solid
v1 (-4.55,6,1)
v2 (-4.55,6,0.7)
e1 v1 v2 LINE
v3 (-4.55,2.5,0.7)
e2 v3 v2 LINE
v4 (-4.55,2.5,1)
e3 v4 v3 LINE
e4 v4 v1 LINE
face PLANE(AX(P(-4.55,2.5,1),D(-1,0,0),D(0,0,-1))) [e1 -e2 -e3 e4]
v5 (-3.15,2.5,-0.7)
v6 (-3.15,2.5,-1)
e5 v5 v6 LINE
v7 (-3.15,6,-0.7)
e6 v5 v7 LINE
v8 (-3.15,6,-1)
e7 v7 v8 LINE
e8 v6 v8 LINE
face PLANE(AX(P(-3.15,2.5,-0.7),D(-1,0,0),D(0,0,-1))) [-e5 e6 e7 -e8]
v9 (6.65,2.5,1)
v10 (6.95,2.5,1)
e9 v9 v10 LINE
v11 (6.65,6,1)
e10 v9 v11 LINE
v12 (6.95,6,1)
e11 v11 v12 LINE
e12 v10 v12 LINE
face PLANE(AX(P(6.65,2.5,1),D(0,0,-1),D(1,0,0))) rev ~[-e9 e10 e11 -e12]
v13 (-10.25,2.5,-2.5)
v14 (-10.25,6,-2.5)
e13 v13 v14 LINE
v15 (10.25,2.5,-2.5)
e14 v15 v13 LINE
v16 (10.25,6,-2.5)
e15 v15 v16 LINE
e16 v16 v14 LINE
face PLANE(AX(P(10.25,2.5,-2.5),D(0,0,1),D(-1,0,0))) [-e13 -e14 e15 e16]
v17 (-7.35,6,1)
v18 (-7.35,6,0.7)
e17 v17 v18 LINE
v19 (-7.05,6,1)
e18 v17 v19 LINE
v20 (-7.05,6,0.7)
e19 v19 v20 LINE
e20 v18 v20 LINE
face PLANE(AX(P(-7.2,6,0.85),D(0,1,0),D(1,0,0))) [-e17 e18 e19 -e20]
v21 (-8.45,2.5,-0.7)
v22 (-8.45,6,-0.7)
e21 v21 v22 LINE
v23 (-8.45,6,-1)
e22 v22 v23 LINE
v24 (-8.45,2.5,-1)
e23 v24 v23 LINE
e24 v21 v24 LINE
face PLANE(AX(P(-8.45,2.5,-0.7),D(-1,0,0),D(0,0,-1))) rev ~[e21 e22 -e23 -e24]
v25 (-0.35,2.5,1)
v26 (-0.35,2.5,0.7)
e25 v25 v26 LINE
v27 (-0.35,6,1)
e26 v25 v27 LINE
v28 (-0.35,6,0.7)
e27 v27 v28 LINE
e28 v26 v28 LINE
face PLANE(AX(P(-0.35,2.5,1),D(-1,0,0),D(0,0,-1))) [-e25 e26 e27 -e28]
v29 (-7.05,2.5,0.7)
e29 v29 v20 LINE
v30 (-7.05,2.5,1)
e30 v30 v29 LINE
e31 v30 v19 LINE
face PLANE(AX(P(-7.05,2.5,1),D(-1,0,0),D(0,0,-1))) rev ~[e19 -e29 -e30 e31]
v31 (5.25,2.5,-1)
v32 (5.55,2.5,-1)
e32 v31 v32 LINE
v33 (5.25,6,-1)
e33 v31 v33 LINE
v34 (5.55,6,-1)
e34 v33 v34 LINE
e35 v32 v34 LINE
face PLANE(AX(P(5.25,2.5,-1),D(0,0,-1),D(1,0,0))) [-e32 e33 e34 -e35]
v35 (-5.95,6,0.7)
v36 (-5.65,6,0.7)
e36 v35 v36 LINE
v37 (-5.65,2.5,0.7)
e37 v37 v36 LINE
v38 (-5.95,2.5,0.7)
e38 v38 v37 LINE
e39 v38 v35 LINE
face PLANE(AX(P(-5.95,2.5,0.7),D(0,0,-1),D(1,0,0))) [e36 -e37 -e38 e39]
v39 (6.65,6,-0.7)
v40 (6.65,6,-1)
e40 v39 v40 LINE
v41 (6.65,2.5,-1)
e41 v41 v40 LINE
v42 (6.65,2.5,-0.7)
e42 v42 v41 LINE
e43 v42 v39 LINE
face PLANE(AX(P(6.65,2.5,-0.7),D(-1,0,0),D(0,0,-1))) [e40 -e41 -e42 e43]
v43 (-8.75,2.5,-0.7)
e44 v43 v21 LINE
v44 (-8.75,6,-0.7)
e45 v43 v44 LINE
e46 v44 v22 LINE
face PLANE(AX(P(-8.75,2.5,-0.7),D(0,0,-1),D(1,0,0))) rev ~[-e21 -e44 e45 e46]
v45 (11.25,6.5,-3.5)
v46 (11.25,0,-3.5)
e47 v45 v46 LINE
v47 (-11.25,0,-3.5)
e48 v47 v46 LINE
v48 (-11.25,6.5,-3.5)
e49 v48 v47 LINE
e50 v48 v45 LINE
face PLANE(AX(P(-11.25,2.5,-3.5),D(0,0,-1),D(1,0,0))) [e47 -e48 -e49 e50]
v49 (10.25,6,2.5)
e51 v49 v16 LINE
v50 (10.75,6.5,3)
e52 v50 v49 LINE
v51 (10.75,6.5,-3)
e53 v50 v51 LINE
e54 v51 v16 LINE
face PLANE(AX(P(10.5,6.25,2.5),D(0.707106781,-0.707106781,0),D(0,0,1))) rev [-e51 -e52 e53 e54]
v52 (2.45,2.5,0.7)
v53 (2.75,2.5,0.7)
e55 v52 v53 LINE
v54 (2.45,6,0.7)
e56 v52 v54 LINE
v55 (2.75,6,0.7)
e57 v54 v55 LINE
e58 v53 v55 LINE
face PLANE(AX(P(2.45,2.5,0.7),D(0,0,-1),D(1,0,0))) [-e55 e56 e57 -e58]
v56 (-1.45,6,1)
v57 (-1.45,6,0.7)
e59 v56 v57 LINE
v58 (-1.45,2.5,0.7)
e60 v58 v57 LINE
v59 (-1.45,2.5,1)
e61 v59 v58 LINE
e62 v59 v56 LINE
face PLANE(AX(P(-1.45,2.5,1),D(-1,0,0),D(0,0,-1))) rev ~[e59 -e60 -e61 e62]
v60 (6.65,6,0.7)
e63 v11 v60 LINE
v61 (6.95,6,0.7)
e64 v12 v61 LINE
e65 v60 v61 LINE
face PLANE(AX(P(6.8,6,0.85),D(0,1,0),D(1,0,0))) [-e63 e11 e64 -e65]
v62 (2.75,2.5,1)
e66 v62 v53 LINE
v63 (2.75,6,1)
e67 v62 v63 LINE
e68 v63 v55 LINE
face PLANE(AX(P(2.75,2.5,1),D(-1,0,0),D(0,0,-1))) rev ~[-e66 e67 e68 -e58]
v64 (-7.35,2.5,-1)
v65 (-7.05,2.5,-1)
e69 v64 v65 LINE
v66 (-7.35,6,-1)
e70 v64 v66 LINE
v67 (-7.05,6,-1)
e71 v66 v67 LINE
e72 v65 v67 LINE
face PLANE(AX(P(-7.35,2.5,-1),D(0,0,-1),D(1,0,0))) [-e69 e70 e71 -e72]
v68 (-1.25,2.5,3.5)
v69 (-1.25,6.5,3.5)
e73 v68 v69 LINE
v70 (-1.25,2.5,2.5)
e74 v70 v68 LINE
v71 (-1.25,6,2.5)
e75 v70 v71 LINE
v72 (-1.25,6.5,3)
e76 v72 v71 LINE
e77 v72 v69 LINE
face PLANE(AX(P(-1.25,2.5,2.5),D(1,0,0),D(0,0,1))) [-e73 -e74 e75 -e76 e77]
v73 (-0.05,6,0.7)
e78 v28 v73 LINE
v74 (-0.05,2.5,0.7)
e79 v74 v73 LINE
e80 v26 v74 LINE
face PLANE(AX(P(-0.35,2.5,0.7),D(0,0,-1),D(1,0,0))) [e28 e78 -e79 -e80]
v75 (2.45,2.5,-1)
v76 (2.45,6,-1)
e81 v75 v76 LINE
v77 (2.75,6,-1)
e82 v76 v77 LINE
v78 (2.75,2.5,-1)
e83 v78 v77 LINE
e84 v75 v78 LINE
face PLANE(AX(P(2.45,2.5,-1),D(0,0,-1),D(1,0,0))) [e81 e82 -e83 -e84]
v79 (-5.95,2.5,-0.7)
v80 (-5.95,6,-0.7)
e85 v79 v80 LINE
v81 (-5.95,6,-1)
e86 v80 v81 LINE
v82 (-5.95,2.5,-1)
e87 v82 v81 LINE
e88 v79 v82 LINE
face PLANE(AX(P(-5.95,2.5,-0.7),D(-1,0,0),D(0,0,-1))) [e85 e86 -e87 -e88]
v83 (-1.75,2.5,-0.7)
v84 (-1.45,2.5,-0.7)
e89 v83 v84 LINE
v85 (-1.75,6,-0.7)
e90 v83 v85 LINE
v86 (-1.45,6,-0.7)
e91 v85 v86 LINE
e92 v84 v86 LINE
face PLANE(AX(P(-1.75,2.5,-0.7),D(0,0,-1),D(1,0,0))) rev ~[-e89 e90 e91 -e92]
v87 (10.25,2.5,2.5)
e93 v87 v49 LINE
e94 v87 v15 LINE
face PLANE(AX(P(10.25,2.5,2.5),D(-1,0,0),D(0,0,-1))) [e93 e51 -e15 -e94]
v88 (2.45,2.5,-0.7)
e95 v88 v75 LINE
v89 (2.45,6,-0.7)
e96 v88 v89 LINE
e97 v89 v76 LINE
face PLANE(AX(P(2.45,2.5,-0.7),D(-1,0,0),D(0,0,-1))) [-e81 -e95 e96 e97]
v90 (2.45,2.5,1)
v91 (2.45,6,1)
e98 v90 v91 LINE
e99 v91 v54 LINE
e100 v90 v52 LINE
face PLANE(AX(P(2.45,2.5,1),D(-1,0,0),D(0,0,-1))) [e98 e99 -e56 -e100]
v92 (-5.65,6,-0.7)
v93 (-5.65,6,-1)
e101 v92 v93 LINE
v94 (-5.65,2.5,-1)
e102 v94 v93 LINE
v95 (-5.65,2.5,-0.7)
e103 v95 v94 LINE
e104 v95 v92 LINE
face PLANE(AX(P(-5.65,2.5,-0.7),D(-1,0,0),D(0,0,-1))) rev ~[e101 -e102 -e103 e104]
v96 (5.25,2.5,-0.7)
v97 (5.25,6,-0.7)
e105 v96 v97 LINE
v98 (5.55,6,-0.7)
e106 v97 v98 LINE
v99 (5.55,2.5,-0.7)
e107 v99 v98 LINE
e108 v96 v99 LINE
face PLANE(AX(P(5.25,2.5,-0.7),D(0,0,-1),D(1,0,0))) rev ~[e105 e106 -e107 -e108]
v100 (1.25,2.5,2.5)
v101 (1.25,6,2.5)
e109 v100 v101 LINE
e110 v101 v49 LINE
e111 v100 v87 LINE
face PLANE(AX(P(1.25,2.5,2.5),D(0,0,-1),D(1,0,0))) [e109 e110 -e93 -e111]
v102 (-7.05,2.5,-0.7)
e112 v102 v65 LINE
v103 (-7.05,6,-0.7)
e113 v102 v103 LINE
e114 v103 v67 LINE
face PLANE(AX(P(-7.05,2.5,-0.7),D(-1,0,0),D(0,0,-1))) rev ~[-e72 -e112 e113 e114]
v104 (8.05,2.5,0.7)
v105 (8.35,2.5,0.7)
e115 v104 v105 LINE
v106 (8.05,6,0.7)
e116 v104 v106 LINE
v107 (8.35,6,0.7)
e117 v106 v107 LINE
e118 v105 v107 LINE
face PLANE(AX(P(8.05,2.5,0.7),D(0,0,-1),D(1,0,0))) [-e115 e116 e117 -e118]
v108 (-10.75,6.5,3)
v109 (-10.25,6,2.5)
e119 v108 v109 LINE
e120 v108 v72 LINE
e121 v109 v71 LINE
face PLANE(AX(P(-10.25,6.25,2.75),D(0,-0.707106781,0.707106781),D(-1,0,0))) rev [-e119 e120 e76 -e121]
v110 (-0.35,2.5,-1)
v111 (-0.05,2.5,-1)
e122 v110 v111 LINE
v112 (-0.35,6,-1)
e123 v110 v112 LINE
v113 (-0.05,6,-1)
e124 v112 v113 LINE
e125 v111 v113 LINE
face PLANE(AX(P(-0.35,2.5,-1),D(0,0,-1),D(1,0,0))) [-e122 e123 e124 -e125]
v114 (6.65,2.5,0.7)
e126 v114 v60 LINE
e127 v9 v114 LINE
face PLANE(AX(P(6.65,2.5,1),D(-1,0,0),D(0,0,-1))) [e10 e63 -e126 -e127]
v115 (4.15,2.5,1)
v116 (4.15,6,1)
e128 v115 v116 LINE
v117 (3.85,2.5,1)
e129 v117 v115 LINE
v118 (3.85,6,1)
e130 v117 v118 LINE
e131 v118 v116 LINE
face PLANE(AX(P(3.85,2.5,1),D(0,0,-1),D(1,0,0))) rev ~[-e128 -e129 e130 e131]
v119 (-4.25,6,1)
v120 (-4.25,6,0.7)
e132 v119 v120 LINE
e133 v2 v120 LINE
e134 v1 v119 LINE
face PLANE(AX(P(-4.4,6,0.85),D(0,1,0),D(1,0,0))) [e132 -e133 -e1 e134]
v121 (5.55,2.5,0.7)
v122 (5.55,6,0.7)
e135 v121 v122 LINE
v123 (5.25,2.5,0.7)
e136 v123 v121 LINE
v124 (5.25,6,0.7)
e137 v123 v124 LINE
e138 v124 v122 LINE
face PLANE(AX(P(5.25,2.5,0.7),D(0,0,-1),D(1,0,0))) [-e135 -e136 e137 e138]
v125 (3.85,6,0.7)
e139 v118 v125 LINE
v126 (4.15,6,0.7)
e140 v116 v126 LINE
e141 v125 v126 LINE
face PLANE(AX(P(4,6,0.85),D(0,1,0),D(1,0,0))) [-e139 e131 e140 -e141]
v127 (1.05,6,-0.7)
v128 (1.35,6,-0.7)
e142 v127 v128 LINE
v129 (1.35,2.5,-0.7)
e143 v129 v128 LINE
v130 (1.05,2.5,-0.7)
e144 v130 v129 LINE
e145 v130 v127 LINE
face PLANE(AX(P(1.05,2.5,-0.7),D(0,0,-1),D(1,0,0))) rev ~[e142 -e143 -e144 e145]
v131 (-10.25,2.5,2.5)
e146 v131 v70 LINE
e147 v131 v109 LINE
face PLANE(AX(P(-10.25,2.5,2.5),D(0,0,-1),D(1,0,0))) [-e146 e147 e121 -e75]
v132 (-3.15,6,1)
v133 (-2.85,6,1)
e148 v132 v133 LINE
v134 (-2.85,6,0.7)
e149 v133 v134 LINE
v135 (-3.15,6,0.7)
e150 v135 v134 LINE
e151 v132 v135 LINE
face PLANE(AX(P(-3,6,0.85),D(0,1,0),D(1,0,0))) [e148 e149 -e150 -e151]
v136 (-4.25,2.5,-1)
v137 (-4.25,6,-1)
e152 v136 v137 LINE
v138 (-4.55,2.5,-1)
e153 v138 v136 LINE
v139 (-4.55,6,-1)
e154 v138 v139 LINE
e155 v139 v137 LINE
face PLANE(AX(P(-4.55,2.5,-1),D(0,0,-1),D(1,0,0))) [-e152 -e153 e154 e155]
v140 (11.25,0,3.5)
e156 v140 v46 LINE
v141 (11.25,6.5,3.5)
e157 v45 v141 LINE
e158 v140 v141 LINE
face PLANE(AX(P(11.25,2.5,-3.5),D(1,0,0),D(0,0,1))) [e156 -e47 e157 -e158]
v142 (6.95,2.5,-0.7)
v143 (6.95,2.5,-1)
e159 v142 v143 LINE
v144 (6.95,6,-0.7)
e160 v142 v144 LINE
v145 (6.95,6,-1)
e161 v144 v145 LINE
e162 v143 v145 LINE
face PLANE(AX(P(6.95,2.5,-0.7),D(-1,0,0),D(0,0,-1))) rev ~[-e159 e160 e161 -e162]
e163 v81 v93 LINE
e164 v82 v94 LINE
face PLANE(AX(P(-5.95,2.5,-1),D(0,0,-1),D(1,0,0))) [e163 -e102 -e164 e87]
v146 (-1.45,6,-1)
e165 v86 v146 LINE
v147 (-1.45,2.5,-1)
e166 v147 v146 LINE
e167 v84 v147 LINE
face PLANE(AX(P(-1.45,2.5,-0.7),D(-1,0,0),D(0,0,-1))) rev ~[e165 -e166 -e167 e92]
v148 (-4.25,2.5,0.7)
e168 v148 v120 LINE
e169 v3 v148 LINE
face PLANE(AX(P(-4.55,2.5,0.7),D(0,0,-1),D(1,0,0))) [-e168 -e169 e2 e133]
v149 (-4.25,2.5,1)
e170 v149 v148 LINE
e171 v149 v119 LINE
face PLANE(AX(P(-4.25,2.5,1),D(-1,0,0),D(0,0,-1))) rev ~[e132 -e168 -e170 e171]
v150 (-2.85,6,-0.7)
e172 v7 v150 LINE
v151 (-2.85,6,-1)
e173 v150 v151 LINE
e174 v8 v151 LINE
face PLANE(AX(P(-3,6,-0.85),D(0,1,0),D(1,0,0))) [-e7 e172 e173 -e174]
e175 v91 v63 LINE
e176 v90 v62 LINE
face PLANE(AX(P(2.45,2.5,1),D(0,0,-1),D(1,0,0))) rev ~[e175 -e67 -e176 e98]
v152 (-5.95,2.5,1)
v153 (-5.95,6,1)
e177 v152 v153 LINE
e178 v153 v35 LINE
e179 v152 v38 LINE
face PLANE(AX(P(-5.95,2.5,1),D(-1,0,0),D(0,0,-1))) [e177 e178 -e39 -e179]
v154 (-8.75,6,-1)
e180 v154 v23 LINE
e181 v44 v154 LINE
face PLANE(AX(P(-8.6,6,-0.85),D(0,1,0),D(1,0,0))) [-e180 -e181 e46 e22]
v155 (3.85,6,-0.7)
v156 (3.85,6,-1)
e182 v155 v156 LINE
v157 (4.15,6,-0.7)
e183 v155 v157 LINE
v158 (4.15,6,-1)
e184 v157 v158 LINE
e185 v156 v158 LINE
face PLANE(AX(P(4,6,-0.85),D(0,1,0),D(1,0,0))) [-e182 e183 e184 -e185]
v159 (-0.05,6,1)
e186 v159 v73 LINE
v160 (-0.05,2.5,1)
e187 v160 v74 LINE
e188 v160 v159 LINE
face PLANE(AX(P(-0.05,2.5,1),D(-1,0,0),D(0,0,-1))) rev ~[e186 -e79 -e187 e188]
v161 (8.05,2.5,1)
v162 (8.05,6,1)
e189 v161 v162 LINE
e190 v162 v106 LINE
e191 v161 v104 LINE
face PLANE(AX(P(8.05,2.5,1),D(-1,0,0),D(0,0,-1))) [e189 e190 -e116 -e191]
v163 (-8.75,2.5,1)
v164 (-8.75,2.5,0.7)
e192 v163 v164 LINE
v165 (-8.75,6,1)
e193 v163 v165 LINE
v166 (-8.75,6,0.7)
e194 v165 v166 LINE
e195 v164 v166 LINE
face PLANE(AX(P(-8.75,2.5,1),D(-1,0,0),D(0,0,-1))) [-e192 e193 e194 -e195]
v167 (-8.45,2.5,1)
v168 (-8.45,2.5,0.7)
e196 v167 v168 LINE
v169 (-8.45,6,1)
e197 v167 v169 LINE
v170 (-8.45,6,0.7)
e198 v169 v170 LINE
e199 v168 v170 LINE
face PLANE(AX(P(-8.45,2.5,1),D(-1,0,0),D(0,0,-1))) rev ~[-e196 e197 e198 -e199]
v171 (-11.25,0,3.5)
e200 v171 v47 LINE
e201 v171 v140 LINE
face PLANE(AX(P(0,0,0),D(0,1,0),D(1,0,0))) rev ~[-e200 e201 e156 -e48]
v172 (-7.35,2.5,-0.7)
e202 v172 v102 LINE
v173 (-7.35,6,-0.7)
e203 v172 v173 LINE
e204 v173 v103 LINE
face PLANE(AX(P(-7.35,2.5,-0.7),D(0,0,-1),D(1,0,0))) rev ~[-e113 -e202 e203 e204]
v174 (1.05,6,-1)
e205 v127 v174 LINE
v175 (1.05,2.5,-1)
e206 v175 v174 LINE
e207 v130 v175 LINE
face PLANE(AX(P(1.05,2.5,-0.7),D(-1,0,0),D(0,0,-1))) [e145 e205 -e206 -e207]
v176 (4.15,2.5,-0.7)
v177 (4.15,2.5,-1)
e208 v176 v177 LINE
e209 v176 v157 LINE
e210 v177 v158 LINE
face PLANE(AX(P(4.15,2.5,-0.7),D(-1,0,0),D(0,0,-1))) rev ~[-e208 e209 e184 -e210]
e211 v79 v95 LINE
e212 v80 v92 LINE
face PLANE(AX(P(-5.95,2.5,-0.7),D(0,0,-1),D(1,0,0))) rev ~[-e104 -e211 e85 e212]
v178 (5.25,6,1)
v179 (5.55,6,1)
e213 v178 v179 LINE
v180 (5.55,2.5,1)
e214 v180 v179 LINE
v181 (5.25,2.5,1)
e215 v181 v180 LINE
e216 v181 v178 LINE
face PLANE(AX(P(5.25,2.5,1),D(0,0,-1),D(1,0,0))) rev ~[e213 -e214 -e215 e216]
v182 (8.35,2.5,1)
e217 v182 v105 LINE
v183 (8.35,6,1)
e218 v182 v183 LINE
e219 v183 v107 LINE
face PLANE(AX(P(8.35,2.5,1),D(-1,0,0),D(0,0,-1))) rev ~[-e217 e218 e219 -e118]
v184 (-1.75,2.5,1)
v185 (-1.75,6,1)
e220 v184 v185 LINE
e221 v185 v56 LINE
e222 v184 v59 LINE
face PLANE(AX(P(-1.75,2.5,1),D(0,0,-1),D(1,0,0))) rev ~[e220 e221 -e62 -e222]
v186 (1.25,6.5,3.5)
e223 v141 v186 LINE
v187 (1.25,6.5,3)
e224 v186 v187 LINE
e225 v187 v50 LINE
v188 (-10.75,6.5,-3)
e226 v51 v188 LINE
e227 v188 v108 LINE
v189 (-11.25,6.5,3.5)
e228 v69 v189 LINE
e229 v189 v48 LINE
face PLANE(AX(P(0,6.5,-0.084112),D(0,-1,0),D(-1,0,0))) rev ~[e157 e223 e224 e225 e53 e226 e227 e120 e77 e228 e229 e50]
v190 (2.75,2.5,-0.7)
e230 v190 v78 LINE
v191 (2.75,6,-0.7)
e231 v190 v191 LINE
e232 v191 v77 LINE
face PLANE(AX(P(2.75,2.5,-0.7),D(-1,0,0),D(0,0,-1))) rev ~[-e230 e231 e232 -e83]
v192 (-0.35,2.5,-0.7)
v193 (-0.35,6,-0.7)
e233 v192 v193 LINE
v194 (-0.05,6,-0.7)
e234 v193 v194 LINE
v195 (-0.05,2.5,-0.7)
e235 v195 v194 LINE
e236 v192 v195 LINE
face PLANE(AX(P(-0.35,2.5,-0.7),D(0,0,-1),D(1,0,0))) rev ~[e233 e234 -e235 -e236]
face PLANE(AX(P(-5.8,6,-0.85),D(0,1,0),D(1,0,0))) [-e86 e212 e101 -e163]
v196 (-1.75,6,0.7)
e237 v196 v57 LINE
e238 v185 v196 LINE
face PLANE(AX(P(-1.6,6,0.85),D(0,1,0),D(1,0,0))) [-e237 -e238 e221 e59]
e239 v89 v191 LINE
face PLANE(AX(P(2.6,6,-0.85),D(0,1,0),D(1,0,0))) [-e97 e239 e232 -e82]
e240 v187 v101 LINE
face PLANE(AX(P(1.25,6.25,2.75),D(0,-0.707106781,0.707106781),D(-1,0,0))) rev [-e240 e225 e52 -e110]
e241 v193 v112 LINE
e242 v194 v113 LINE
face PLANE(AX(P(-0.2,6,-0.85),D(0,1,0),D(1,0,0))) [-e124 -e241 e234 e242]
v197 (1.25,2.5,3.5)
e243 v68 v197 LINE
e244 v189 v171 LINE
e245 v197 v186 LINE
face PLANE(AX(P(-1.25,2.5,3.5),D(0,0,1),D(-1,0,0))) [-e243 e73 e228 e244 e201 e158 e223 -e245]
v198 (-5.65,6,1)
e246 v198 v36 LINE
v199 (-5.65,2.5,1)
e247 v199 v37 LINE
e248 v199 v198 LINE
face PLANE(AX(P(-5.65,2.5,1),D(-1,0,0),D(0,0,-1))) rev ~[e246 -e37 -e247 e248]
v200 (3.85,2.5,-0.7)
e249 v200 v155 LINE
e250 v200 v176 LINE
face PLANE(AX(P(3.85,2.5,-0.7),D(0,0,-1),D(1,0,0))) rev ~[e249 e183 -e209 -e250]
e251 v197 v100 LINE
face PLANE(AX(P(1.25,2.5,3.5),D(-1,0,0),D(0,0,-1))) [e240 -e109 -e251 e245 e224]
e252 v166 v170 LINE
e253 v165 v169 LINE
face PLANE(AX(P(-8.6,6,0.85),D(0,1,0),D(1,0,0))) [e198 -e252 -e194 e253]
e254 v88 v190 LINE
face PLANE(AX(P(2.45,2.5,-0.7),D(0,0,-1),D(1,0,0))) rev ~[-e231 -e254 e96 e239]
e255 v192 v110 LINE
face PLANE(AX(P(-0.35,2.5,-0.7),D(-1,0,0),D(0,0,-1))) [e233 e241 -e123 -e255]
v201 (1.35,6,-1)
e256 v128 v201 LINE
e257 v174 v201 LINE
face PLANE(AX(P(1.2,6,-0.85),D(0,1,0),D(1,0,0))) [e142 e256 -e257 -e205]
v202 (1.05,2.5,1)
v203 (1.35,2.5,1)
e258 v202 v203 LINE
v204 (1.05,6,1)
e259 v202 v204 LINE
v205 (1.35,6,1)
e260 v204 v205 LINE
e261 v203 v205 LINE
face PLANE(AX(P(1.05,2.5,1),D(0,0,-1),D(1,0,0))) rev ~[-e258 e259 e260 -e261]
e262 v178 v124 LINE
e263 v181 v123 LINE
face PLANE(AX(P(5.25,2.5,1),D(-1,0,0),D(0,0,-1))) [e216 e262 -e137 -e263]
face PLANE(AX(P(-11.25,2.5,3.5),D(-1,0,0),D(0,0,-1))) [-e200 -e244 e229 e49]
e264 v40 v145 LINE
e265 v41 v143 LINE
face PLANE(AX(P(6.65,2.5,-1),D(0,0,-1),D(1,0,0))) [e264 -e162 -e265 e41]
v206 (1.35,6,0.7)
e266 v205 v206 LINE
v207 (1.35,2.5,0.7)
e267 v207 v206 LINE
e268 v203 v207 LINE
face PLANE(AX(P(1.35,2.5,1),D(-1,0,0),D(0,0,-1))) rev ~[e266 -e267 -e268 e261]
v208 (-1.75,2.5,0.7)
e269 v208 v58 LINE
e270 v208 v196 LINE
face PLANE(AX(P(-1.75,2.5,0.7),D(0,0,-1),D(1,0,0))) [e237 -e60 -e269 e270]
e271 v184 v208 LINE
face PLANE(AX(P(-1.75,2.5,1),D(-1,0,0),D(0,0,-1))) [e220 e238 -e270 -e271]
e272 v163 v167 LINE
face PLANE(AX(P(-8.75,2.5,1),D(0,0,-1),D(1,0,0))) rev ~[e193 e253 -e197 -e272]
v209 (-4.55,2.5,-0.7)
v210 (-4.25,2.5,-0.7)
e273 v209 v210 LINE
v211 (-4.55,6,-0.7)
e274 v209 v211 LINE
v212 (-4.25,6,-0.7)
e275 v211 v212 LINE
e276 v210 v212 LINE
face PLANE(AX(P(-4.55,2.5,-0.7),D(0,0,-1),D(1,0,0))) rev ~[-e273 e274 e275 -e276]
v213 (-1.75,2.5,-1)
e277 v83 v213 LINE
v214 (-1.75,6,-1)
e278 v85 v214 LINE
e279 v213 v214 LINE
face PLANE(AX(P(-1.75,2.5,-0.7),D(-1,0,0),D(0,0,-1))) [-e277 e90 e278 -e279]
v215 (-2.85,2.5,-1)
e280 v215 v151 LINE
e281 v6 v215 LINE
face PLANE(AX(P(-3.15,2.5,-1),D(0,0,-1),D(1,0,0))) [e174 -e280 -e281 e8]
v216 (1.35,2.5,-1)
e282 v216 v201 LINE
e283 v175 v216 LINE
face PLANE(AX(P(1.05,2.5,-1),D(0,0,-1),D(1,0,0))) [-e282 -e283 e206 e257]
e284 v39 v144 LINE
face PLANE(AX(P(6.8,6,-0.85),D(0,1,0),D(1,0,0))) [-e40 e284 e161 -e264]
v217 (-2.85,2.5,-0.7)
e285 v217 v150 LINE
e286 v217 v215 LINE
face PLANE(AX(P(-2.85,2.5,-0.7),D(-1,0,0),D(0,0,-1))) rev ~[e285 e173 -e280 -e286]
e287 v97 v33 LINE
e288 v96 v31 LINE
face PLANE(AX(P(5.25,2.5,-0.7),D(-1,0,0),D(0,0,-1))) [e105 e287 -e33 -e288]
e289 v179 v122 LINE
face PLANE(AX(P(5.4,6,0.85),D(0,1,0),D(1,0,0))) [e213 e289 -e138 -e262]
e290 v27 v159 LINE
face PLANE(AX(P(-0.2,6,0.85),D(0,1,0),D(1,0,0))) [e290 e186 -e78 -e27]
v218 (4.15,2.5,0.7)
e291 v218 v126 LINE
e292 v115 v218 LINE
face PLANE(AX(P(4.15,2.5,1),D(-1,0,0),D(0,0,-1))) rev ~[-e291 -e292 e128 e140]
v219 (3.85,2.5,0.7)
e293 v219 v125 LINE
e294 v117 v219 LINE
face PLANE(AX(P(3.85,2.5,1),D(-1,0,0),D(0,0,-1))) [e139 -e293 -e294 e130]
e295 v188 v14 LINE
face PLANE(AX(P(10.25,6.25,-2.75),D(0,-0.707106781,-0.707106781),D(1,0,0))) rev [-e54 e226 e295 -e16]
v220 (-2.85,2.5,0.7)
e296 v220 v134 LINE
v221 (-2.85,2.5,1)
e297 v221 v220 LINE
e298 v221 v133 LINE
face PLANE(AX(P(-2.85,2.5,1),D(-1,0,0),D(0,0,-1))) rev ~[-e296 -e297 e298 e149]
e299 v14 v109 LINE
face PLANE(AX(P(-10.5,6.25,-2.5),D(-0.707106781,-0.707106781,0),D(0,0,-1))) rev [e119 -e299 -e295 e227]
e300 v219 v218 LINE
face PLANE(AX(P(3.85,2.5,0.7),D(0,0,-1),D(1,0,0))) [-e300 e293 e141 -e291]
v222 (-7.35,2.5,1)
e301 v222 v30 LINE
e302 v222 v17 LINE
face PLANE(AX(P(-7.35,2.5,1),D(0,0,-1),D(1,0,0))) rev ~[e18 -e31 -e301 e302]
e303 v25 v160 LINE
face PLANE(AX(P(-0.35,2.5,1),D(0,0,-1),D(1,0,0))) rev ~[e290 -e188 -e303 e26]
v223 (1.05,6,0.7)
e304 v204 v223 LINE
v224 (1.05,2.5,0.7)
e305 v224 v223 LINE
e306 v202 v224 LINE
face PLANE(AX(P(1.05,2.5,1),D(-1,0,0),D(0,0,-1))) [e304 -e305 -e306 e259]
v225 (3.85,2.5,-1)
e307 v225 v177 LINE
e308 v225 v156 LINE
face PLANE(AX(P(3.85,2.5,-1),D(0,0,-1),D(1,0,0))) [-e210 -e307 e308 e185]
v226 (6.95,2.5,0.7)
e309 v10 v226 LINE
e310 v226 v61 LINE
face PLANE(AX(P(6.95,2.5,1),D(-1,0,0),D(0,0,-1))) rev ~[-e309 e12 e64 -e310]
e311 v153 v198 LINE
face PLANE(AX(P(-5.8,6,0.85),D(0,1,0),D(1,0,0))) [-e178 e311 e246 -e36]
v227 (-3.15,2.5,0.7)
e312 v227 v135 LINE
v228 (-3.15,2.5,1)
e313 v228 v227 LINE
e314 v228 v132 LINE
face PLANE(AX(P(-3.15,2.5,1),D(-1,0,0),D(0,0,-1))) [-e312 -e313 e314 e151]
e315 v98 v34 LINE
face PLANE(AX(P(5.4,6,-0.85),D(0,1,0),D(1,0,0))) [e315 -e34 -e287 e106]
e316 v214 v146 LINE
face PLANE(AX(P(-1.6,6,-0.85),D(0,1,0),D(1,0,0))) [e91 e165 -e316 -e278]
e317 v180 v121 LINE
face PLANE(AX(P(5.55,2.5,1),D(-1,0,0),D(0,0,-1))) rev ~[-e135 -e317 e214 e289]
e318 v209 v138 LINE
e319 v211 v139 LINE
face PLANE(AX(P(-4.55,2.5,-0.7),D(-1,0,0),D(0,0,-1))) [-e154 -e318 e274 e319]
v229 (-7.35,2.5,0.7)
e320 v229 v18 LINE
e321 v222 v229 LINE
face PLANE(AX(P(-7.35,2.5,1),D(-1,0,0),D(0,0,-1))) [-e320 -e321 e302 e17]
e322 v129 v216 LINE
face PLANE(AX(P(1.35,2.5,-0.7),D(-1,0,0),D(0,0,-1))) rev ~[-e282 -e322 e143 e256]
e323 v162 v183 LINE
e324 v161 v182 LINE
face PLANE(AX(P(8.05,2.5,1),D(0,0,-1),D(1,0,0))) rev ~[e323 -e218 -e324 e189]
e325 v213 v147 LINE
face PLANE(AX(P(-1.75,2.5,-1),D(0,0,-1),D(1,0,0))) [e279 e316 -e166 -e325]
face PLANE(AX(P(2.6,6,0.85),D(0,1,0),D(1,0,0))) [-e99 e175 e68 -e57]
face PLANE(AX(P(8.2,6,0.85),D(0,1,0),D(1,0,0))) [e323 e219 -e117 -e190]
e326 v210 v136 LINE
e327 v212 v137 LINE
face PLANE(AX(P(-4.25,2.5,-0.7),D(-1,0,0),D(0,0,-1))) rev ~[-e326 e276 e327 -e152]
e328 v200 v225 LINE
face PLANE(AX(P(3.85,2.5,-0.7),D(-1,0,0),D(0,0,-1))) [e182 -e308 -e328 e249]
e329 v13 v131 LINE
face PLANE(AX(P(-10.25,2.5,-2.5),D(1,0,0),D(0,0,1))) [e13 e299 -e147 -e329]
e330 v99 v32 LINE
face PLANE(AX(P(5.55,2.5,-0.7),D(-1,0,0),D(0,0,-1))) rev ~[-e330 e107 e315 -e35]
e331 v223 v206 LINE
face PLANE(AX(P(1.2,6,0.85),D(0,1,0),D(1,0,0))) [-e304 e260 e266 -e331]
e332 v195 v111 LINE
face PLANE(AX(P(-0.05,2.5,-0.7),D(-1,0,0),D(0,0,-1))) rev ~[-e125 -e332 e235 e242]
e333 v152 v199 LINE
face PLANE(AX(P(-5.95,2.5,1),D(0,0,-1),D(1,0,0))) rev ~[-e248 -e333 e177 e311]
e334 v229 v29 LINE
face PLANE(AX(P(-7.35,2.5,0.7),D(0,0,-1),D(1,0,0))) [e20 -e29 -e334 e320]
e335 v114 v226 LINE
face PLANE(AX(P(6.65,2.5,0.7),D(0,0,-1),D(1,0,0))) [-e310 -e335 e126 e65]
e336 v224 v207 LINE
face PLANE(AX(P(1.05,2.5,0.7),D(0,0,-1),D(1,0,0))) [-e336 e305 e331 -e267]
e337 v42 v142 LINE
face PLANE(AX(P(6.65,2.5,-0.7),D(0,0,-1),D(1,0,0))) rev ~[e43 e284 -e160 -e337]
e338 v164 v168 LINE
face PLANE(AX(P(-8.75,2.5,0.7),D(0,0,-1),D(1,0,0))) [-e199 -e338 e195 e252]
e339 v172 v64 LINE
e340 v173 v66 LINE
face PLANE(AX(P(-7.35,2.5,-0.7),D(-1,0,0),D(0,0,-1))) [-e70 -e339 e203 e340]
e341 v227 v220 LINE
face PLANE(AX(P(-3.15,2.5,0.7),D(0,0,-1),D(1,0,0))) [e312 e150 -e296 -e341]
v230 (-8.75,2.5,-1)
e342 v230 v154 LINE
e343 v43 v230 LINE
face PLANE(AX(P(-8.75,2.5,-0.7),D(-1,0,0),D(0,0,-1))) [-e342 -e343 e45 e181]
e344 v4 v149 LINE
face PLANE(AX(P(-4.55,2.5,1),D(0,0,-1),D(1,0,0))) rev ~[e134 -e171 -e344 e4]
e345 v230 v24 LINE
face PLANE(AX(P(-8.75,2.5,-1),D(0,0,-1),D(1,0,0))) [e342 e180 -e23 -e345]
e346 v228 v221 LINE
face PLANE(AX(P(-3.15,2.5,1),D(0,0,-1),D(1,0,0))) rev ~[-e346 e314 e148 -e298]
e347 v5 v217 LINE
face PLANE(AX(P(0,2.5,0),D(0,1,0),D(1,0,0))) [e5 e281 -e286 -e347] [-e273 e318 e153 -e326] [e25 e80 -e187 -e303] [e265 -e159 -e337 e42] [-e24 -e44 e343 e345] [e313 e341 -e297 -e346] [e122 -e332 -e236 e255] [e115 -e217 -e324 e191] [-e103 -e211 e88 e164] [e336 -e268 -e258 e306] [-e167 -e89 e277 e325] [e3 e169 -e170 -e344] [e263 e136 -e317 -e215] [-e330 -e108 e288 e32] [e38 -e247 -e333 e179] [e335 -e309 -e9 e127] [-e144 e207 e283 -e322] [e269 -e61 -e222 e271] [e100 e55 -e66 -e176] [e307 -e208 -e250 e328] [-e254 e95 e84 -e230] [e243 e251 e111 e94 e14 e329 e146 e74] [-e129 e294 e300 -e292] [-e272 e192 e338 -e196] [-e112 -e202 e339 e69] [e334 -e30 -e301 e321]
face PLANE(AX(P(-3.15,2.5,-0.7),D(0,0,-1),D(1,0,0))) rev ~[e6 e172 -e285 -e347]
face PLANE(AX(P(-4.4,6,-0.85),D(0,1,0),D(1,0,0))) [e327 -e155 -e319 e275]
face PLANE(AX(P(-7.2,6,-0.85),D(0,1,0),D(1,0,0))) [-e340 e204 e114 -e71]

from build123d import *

# Parameters (mm, degrees)
SKETCH1_W           = 22.5
SKETCH1_H           = 7
BASE_DEPTH          = 2.5
RIMS_DEPTH          = 4
CHAMFER1_SIZE       = 0.5
SKETCH3_W           = 0.3
SKETCH3_H           = 0.3
BOSS_EXTRUDE3_DEPTH = 3.5


with BuildPart() as part:
    # Sketch1 → Base (new body)
    with BuildSketch(Plane(origin=(0, 0, 0), x_dir=(1, 0, 0), z_dir=(0, 1, 0))):
        Rectangle(SKETCH1_W, SKETCH1_H)
    extrude(amount=BASE_DEPTH)

    # Sketch2 → rims (add)
    with BuildSketch(Plane(origin=(0, 2.5, 0), x_dir=(1, 0, 0), z_dir=(0, 1, 0))):
        Polygon((-1.25, -2.5), (-1.25, -3.5), (-11.25, -3.5), (-11.25, 3.5), (11.25, 3.5), (11.25, -3.5), (1.25, -3.5), (1.25, -2.5), (10.25, -2.5), (10.25, 2.5), (-10.25, 2.5), (-10.25, -2.5), align=None)
    extrude(amount=RIMS_DEPTH)

    # Chamfer1
    chamfer1_edges = [part.edges().sort_by_distance(p)[0] for p in [
        (-5.75, 6.5, 2.5),
        (-10.25, 6.5, 0),
        (0, 6.5, -2.5),
        (10.25, 6.5, 0),
        (5.75, 6.5, 2.5),
    ]]
    chamfer(chamfer1_edges, length=CHAMFER1_SIZE)

    # Sketch3 → Boss-Extrude3 (add)
    with BuildSketch(Plane(origin=(0, 2.5, 0), x_dir=(1, 0, 0), z_dir=(0, 1, 0))):
        with Locations((-8.6, -0.85)):
            Rectangle(SKETCH3_W, SKETCH3_H)
        with Locations((-8.6, 0.85)):
            Rectangle(SKETCH3_W, SKETCH3_H)
        with Locations((-7.2, -0.85)):
            Rectangle(SKETCH3_W, SKETCH3_H)
        with Locations((-5.8, -0.85)):
            Rectangle(SKETCH3_W, SKETCH3_H)
        with Locations((-4.4, -0.85)):
            Rectangle(SKETCH3_W, SKETCH3_H)
        with Locations((-3, -0.85)):
            Rectangle(SKETCH3_W, SKETCH3_H)
        with Locations((-1.6, -0.85)):
            Rectangle(SKETCH3_W, SKETCH3_H)
        with Locations((-0.2, -0.85)):
            Rectangle(SKETCH3_W, SKETCH3_H)
        with Locations((1.2, -0.85)):
            Rectangle(SKETCH3_W, SKETCH3_H)
        with Locations((2.6, -0.85)):
            Rectangle(SKETCH3_W, SKETCH3_H)
        with Locations((4, -0.85)):
            Rectangle(SKETCH3_W, SKETCH3_H)
        with Locations((5.4, -0.85)):
            Rectangle(SKETCH3_W, SKETCH3_H)
        with Locations((6.8, -0.85)):
            Rectangle(SKETCH3_W, SKETCH3_H)
        with Locations((8.2, -0.85)):
            Rectangle(SKETCH3_W, SKETCH3_H)
        with Locations((-7.2, 0.85)):
            Rectangle(SKETCH3_W, SKETCH3_H)
        with Locations((-5.8, 0.85)):
            Rectangle(SKETCH3_W, SKETCH3_H)
        with Locations((-4.4, 0.85)):
            Rectangle(SKETCH3_W, SKETCH3_H)
        with Locations((-3, 0.85)):
            Rectangle(SKETCH3_W, SKETCH3_H)
        with Locations((-1.6, 0.85)):
            Rectangle(SKETCH3_W, SKETCH3_H)
        with Locations((-0.2, 0.85)):
            Rectangle(SKETCH3_W, SKETCH3_H)
        with Locations((1.2, 0.85)):
            Rectangle(SKETCH3_W, SKETCH3_H)
        with Locations((2.6, 0.85)):
            Rectangle(SKETCH3_W, SKETCH3_H)
        with Locations((4, 0.85)):
            Rectangle(SKETCH3_W, SKETCH3_H)
        with Locations((5.4, 0.85)):
            Rectangle(SKETCH3_W, SKETCH3_H)
        with Locations((6.8, 0.85)):
            Rectangle(SKETCH3_W, SKETCH3_H)
    extrude(amount=BOSS_EXTRUDE3_DEPTH)


solid = part.part
